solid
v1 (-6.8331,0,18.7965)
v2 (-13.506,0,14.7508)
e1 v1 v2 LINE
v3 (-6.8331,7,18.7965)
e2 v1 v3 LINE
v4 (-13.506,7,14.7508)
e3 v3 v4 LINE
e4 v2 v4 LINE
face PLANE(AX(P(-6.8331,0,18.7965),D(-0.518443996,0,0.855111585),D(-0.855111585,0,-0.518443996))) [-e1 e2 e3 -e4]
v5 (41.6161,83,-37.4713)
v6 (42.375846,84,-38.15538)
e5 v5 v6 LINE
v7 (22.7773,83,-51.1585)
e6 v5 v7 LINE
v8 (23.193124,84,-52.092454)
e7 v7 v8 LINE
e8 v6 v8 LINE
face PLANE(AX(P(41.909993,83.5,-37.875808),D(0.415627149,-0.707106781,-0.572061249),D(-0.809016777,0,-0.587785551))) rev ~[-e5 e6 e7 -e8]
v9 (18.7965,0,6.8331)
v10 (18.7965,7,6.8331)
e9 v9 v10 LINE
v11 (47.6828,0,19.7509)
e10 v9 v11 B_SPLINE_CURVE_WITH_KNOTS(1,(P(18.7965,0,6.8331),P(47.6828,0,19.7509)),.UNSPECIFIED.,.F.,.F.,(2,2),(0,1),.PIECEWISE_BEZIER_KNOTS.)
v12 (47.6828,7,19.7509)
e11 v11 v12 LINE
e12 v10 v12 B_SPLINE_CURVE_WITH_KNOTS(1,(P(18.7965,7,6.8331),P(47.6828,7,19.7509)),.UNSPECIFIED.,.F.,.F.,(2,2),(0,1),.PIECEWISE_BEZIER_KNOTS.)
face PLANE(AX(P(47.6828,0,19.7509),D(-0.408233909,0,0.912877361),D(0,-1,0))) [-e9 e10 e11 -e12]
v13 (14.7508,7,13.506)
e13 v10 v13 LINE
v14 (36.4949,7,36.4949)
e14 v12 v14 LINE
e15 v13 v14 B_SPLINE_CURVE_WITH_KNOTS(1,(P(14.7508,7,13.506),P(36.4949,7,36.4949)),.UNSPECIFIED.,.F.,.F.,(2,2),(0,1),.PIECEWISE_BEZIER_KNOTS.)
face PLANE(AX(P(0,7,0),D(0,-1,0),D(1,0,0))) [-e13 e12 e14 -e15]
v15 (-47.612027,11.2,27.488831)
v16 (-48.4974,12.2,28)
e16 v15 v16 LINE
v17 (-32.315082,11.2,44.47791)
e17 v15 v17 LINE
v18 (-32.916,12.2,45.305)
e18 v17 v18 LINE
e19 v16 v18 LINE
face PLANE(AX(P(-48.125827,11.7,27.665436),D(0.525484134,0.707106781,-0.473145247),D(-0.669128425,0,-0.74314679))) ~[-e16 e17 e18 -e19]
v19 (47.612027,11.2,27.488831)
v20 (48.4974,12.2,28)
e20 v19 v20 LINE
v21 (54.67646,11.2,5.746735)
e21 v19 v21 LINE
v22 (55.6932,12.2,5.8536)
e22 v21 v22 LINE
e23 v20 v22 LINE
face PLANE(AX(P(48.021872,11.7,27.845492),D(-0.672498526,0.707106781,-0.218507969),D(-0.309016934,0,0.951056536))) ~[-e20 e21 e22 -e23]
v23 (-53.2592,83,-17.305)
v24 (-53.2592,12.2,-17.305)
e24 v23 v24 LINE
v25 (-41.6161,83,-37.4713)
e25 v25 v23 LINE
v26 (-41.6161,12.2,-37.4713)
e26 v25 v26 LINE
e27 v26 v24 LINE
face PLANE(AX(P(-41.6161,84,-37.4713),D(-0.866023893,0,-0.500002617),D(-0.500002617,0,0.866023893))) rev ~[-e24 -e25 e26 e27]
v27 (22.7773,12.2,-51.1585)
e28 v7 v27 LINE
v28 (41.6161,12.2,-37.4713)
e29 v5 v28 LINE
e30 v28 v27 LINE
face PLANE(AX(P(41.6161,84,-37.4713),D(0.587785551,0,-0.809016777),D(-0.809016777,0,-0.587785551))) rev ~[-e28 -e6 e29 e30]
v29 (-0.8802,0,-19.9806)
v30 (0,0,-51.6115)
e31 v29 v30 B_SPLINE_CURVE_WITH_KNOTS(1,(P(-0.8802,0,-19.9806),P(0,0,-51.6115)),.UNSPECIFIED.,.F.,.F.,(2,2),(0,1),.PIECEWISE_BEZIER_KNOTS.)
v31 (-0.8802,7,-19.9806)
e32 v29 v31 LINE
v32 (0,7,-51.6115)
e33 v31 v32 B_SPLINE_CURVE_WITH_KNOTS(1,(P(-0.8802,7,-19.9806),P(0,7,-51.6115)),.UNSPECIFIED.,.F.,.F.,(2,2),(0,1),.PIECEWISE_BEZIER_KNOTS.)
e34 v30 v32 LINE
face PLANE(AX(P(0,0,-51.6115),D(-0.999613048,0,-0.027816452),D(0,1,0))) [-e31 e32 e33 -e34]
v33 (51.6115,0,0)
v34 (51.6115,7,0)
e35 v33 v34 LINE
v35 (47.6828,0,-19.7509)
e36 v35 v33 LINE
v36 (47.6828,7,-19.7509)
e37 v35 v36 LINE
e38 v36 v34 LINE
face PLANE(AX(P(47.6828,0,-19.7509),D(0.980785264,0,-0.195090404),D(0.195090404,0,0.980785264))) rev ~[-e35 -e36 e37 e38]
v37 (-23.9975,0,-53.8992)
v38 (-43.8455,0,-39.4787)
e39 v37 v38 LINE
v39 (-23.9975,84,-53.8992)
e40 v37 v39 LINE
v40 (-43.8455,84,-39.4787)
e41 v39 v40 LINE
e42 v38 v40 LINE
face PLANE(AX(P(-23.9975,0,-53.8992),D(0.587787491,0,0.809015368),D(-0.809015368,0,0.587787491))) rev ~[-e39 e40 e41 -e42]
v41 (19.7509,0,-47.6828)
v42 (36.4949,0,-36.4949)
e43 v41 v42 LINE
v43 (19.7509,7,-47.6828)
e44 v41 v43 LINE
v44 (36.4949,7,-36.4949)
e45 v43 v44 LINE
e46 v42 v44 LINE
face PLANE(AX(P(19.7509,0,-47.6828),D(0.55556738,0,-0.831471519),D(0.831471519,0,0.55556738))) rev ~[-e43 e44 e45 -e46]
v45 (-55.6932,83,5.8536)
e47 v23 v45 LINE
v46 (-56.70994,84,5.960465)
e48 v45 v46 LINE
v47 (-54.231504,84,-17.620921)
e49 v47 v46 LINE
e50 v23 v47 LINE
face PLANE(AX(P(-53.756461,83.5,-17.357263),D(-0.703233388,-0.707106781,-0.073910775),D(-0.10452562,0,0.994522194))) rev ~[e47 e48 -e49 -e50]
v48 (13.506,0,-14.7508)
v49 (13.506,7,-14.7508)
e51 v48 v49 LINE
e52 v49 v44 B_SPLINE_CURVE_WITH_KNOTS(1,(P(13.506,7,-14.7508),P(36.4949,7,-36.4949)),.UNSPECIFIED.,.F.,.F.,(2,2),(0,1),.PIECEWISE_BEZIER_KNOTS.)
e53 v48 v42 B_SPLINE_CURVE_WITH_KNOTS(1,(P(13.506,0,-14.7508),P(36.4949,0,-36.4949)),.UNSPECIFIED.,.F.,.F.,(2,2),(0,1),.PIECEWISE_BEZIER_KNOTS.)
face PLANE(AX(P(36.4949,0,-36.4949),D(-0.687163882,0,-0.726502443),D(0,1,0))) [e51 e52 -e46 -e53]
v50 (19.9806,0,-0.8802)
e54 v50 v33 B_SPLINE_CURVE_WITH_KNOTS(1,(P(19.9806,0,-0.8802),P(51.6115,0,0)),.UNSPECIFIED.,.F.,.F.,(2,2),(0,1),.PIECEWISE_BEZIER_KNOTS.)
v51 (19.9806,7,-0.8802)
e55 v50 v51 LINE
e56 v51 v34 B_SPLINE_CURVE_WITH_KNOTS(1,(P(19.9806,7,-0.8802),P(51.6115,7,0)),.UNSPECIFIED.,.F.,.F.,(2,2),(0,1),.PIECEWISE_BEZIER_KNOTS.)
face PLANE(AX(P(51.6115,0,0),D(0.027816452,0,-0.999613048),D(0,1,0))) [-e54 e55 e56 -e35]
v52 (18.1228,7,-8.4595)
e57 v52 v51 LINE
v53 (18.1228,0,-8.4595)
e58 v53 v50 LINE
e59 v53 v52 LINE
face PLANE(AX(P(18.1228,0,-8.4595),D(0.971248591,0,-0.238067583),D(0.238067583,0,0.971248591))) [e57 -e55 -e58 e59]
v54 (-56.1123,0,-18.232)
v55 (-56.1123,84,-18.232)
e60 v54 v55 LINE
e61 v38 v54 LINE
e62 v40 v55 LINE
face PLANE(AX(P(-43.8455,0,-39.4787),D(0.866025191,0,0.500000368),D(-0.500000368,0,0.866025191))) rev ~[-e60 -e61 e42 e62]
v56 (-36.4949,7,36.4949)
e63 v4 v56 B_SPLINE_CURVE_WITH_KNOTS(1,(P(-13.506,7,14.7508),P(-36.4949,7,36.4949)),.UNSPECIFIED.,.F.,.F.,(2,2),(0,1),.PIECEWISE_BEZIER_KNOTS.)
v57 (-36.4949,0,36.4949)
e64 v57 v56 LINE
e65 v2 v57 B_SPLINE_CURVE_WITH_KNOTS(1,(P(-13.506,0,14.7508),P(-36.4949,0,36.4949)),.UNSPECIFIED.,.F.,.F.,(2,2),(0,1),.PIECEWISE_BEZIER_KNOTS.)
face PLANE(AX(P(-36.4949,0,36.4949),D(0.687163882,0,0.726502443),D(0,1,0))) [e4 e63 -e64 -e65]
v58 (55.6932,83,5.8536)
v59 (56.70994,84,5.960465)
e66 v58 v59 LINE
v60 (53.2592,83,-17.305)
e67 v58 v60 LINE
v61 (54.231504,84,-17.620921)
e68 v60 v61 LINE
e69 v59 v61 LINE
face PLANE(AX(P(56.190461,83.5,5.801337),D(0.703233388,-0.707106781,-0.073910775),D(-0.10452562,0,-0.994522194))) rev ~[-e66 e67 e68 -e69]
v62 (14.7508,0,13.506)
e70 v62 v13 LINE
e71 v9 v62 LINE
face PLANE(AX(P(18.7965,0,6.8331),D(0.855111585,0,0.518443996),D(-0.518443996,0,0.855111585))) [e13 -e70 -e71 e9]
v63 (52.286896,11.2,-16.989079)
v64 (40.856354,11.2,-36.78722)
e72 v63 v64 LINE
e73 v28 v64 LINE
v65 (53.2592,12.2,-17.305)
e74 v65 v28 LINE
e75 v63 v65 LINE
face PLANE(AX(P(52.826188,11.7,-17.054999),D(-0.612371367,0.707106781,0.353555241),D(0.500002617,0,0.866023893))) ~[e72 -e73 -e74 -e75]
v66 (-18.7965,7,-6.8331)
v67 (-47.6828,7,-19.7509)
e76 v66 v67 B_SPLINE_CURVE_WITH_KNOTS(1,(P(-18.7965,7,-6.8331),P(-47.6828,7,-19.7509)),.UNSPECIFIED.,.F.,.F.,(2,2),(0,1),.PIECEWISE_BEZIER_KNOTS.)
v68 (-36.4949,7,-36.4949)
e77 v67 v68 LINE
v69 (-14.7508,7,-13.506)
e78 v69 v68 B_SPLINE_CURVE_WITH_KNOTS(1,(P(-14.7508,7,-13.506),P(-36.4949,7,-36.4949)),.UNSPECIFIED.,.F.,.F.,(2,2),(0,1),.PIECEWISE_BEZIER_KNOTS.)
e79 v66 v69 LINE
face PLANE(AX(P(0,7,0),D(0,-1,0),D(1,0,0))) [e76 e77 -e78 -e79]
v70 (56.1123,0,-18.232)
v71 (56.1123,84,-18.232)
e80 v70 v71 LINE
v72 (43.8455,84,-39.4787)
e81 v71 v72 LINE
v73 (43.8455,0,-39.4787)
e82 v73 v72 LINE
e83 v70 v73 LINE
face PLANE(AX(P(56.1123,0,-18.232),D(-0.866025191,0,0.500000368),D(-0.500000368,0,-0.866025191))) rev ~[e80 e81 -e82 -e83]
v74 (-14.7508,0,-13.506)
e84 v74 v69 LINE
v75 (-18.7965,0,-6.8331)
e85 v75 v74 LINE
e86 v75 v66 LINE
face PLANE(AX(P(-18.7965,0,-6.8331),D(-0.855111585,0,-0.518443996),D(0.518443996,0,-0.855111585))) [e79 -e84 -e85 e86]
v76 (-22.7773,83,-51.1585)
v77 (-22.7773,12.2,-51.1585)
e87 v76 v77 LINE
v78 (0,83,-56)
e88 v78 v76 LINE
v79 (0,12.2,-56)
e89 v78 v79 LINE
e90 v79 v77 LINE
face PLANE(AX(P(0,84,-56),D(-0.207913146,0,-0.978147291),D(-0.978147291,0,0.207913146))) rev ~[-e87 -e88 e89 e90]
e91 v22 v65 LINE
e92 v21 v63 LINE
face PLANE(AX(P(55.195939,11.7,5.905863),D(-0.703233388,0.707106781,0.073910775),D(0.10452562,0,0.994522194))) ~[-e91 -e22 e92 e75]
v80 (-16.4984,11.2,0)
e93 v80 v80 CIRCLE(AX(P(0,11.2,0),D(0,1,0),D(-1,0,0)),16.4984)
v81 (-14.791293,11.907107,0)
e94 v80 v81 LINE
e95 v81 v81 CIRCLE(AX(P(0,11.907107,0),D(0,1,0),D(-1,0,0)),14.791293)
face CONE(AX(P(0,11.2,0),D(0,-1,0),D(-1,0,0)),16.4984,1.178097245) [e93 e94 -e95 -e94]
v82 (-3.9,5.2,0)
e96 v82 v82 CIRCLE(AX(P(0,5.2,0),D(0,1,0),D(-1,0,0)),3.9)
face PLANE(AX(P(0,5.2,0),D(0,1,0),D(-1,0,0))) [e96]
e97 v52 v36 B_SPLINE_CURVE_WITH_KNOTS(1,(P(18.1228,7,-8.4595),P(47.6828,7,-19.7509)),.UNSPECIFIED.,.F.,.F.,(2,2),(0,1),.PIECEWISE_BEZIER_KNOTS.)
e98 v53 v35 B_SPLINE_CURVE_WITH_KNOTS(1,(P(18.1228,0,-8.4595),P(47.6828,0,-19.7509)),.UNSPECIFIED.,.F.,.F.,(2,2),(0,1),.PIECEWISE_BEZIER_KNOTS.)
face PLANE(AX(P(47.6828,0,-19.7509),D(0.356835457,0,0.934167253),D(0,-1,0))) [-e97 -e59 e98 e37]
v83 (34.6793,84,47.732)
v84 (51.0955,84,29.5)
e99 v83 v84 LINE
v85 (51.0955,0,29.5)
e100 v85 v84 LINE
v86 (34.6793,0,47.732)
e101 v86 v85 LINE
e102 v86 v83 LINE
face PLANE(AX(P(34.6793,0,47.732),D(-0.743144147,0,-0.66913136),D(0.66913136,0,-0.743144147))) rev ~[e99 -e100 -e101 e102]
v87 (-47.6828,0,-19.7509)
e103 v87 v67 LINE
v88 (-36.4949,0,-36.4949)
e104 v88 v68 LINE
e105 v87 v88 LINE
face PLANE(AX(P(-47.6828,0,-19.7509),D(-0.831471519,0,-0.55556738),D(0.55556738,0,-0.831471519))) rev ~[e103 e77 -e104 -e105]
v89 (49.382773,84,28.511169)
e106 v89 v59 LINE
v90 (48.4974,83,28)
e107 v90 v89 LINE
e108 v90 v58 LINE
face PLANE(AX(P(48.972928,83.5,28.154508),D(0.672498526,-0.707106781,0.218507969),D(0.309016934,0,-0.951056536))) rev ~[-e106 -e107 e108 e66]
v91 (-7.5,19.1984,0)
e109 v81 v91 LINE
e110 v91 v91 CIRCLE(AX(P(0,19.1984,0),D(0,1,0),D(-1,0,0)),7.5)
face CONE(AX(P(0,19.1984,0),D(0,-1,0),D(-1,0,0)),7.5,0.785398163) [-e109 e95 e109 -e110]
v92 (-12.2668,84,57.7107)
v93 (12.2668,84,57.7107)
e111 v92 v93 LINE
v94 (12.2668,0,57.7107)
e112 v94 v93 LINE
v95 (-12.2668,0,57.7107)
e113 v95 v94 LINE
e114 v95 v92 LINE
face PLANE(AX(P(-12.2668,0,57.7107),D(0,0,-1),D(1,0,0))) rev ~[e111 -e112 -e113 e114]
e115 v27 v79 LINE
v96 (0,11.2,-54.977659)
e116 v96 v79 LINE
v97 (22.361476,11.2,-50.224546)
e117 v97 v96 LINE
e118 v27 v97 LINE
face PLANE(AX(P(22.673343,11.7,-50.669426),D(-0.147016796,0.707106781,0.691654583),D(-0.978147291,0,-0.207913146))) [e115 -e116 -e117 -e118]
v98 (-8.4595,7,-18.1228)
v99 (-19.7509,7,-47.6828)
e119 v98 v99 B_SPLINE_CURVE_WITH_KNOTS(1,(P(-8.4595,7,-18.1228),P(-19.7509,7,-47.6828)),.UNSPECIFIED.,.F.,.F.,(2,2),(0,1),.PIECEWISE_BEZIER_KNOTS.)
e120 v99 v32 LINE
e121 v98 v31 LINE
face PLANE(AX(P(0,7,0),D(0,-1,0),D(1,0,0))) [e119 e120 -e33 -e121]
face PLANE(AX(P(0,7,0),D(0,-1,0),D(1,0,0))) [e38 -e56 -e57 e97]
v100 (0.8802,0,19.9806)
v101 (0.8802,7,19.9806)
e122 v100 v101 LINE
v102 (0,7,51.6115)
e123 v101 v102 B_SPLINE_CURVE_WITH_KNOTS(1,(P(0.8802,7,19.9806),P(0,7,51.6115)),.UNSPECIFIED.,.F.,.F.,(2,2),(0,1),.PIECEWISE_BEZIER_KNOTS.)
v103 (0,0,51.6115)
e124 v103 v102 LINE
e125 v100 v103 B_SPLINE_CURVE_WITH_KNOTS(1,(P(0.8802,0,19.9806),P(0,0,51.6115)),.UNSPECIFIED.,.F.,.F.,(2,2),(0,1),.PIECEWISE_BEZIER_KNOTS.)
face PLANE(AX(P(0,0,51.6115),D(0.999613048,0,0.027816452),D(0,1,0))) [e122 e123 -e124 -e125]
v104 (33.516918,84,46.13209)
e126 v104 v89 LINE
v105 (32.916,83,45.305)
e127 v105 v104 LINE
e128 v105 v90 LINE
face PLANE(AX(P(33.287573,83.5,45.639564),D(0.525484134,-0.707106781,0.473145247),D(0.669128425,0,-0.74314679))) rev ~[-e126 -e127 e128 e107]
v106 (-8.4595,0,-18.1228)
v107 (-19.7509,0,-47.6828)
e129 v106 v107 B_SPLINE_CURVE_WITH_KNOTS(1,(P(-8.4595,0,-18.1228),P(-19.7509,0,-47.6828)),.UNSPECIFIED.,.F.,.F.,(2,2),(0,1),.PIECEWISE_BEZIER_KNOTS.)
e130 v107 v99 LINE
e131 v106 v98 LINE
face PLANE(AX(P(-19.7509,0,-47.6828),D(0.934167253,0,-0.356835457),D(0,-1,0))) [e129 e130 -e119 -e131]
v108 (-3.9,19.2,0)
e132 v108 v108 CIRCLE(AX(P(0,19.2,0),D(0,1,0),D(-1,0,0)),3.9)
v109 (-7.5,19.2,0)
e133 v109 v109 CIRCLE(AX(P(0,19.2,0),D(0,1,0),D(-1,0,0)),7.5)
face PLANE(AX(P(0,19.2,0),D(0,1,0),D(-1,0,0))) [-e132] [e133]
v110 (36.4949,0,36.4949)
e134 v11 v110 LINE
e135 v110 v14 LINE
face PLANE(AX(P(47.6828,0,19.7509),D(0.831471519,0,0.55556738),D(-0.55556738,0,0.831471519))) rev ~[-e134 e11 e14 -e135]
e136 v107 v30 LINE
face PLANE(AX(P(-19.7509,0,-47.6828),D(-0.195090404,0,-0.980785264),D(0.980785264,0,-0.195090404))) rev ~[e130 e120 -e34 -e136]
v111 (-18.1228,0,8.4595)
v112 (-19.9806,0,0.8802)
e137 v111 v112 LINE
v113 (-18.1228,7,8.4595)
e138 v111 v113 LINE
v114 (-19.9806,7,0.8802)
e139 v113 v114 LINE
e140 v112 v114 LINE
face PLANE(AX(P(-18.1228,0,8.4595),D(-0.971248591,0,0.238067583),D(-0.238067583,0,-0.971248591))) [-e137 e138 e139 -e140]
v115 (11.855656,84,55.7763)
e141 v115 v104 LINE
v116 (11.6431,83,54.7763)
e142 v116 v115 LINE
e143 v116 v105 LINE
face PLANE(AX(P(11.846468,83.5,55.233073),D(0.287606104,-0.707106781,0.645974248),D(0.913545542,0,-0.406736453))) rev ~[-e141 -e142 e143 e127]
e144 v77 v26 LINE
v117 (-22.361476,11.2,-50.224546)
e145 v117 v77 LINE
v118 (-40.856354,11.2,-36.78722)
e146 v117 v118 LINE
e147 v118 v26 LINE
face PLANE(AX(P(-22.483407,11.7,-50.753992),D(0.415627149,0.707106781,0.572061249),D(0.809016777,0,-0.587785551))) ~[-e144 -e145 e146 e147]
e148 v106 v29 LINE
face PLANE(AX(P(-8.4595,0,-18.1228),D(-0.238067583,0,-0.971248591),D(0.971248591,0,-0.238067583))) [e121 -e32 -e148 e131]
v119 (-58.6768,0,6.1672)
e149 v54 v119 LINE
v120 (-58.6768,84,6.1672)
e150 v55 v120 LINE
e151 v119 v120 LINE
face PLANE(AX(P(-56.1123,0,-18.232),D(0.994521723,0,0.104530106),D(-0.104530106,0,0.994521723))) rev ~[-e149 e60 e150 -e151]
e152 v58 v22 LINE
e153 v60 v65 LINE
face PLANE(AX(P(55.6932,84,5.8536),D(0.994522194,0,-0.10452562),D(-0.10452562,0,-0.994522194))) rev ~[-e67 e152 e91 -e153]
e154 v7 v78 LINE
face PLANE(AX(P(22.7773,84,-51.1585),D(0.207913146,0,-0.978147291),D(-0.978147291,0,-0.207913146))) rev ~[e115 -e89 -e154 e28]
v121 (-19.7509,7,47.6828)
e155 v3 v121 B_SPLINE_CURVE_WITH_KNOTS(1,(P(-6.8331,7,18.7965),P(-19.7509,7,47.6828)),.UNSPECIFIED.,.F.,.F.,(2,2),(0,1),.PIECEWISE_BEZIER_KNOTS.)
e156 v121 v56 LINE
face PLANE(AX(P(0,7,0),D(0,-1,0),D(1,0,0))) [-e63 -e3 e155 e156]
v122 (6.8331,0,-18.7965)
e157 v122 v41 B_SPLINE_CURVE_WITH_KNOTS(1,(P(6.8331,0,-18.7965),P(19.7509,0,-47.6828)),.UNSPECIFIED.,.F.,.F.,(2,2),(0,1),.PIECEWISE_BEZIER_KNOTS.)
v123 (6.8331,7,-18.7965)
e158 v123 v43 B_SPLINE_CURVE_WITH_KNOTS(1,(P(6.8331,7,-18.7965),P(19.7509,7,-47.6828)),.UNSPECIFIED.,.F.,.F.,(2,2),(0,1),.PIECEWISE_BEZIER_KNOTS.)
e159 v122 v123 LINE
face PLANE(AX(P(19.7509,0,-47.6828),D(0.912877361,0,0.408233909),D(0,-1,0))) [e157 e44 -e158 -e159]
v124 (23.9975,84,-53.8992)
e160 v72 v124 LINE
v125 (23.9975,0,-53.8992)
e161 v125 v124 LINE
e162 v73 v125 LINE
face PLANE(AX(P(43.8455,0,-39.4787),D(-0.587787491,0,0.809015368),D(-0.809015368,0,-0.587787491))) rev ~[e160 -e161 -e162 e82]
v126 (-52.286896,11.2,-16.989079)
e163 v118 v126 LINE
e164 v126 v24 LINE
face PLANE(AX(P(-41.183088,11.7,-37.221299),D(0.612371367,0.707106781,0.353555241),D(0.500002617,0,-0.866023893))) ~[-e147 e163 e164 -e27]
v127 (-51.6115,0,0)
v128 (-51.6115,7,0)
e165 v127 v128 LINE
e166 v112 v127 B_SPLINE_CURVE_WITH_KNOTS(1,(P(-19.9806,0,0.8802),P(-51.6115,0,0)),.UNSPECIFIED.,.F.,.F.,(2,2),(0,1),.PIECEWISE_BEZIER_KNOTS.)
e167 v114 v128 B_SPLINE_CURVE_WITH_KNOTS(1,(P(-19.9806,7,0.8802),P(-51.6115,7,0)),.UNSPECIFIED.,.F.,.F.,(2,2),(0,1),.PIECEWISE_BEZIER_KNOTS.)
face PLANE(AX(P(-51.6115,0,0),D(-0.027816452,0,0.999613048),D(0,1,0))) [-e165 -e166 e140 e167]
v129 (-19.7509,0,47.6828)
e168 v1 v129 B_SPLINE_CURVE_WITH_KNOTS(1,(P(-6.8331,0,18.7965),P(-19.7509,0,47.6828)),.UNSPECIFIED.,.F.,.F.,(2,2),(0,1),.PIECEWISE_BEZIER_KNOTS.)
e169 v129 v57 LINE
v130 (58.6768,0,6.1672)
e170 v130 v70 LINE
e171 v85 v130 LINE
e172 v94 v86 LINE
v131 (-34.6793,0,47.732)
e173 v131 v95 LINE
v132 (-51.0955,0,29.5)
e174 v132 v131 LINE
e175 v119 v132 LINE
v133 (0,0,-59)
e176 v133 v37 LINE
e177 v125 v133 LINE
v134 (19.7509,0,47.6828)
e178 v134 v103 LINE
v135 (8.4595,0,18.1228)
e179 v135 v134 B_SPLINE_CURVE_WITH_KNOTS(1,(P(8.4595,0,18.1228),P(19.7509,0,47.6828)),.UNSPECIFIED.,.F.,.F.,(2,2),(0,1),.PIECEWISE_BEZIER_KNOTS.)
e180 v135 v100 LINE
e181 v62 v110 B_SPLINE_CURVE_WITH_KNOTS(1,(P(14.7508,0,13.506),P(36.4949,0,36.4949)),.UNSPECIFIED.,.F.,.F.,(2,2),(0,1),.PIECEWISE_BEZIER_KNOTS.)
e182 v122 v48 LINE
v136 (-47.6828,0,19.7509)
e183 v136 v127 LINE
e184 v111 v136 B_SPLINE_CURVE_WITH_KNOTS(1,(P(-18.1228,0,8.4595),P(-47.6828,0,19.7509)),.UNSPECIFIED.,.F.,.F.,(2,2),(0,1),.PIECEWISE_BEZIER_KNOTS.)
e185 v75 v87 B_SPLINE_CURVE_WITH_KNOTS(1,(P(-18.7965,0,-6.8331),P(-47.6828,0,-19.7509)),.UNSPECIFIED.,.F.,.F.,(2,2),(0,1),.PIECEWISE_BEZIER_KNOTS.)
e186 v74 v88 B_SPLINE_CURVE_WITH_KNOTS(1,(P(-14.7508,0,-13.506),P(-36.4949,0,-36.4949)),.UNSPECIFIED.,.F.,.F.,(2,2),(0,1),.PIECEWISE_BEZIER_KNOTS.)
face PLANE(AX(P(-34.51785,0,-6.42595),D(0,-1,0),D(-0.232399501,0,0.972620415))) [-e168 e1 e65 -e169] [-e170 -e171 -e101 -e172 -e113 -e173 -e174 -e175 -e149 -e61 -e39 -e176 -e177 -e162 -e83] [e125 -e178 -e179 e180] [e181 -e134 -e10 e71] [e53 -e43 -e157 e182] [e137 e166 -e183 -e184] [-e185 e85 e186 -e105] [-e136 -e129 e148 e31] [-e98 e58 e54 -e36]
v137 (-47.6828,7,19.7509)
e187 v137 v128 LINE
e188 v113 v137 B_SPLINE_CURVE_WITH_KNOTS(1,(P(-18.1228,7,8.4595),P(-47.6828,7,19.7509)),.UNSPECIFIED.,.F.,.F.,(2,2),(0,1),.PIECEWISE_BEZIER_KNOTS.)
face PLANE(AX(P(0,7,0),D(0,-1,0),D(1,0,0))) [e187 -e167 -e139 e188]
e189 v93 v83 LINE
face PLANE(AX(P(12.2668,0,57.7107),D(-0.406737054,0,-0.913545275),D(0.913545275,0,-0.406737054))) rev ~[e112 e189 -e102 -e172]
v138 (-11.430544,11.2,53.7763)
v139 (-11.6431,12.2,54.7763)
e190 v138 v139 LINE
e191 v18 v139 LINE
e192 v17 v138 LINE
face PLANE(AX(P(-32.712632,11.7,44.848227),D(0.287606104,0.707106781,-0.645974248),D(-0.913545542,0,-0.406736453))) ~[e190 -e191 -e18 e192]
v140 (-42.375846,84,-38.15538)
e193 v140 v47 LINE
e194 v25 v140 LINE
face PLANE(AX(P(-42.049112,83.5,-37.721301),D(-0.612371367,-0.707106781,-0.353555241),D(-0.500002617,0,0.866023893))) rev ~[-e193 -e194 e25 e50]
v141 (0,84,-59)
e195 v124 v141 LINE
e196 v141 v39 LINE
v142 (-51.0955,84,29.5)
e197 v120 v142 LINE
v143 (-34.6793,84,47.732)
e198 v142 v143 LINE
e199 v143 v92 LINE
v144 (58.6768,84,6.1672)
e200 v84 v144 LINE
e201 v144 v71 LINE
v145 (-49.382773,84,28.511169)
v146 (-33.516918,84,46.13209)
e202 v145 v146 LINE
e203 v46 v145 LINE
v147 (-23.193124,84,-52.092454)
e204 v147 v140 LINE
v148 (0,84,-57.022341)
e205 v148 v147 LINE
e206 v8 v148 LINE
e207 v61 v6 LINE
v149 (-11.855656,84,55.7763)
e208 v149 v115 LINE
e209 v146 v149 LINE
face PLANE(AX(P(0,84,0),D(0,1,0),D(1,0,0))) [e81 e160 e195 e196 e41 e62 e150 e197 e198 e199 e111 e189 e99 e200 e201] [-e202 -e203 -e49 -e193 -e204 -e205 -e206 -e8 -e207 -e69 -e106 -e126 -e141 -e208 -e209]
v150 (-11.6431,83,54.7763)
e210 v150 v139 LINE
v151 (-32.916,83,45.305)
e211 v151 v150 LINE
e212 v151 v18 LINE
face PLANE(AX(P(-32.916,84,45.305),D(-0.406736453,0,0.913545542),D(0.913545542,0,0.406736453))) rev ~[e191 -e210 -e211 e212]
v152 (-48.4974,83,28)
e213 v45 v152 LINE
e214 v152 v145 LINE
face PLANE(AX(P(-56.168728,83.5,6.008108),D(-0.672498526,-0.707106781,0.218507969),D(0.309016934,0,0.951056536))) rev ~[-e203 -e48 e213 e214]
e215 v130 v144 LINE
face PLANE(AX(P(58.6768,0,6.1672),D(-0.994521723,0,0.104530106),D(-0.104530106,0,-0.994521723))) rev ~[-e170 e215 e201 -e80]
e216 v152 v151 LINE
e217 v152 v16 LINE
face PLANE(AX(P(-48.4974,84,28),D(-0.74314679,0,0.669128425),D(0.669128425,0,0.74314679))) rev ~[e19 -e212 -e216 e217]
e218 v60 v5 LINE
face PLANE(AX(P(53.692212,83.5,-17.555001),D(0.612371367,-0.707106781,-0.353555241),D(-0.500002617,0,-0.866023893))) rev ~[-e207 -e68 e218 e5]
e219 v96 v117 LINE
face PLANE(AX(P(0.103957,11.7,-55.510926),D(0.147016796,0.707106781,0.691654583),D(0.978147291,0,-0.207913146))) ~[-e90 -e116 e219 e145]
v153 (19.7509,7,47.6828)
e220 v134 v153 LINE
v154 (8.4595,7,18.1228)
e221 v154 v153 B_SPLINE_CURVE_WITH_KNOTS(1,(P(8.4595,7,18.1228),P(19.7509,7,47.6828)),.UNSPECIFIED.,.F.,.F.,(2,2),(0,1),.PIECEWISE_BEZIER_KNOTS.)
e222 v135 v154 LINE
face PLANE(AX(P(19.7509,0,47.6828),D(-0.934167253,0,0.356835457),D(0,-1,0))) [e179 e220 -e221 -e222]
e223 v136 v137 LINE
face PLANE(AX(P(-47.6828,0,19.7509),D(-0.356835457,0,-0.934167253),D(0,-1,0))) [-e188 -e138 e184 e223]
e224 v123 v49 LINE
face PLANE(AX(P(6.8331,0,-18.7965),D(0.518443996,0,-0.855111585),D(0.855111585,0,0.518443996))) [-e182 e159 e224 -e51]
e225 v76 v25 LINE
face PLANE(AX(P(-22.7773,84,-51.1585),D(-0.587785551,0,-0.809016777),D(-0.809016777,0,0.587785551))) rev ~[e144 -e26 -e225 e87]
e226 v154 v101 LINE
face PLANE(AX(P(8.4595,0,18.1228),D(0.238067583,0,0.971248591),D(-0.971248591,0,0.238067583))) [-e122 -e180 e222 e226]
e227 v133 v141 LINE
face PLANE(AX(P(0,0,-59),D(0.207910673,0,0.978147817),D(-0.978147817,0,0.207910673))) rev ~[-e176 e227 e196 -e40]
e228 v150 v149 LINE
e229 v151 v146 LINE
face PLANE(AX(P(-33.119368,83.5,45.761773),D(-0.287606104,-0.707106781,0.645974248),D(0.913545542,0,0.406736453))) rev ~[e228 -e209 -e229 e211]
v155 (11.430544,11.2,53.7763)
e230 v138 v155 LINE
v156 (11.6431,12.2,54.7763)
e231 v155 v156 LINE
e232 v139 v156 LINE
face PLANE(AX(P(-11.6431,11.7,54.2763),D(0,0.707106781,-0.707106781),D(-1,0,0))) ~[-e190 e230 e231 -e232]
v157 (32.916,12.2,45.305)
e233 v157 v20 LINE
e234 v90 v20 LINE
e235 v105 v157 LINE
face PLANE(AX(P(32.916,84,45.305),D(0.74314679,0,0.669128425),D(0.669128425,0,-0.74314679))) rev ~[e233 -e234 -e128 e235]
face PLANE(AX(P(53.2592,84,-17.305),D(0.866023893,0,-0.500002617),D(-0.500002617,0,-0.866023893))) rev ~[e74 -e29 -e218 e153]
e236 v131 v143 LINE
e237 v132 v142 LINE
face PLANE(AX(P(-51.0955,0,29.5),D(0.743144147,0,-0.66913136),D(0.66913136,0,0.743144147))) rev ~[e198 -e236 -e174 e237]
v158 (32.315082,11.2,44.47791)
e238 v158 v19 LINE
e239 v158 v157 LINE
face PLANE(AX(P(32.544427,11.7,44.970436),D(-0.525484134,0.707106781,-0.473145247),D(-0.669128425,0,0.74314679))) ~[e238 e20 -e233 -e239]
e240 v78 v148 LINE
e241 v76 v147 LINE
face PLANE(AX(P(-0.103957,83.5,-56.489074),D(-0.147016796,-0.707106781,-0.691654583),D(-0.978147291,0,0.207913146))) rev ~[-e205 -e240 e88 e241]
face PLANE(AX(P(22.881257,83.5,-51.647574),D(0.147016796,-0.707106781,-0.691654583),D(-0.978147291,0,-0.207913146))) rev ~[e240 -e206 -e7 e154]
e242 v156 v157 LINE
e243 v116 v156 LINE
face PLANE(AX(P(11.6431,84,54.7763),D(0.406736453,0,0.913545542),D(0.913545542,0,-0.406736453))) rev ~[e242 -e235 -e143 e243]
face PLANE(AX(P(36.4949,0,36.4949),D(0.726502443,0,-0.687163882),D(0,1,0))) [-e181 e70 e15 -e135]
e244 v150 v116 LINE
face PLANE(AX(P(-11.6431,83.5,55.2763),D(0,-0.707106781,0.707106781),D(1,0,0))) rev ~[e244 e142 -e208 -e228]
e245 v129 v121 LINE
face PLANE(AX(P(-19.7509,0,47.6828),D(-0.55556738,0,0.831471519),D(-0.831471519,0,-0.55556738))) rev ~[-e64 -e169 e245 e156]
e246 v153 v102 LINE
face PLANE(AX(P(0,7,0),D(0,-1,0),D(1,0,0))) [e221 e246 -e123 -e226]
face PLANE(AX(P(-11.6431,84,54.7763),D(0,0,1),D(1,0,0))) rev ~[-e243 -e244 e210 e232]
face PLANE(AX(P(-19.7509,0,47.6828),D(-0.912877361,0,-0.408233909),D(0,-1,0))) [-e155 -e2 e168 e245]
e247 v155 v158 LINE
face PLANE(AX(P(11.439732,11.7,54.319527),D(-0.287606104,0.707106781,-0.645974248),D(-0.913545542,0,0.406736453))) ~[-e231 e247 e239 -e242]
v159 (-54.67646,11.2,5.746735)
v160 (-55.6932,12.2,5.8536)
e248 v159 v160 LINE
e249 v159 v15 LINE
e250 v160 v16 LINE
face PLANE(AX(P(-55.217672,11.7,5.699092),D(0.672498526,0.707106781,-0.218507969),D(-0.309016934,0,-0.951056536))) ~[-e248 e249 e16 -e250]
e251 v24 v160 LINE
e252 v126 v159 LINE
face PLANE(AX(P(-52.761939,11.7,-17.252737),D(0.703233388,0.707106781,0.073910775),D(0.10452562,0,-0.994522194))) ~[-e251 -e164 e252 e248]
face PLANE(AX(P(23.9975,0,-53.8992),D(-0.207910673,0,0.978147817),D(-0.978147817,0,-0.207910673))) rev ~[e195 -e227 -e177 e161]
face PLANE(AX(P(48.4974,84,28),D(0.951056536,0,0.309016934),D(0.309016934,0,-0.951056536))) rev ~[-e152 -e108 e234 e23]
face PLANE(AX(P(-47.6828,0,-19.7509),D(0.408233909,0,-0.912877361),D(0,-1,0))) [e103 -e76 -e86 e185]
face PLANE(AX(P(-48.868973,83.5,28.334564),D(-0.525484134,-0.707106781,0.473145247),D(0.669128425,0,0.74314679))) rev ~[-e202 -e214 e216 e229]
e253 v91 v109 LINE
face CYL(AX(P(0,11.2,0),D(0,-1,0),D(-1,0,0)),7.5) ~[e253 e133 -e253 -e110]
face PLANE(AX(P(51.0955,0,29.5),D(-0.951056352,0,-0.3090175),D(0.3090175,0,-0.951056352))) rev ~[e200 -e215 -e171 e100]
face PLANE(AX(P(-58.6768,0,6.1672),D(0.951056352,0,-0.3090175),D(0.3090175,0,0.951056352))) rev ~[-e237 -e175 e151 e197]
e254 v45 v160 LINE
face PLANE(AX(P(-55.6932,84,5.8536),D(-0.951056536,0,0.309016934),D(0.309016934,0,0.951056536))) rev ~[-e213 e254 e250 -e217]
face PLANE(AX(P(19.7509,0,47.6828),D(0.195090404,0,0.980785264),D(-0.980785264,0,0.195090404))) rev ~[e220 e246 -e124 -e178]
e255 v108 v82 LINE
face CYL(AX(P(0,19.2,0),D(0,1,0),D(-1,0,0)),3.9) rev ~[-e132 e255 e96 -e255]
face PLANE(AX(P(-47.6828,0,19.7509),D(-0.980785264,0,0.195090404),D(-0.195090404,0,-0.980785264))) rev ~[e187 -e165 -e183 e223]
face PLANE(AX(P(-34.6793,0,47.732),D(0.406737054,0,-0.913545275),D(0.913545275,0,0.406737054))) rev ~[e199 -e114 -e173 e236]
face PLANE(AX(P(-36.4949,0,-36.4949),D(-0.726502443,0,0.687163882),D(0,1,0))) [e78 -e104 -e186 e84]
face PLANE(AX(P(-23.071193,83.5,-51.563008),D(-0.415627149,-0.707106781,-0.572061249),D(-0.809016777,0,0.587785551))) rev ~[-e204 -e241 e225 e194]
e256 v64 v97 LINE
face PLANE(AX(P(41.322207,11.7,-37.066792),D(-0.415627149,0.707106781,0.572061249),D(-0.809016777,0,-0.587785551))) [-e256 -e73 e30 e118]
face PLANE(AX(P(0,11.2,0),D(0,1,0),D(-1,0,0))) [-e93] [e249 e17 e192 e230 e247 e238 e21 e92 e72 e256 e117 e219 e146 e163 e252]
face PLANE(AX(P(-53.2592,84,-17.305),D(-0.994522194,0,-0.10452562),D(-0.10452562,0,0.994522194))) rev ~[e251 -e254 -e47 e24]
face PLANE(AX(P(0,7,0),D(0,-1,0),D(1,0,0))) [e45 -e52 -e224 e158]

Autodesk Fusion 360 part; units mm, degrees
sketch "Sketch1" plane through (0, 0, 0) normal (0, 1, 0) x (1, 0, 0)
  line L0 (0, 59) -> (-23.9975, 53.8992)
  line L1 (-23.9975, 53.8992) -> (-43.8455, 39.4787)
  line L2 (-43.8455, 39.4787) -> (-56.1123, 18.232)
  line L3 (-56.1123, 18.232) -> (-58.6768, -6.1672)
  line L4 (-58.6768, -6.1672) -> (-51.0955, -29.5)
  line L5 (-51.0955, -29.5) -> (-34.6793, -47.732)
  line L6 (-34.6793, -47.732) -> (-12.2668, -57.7107)
  line L7 (-12.2668, -57.7107) -> (12.2668, -57.7107)
  line L8 (12.2668, -57.7107) -> (34.6793, -47.732)
  line L9 (34.6793, -47.732) -> (51.0955, -29.5)
  line L10 (51.0955, -29.5) -> (58.6768, -6.1672)
  line L11 (58.6768, -6.1672) -> (56.1123, 18.232)
  line L12 (56.1123, 18.232) -> (43.8455, 39.4787)
  line L13 (43.8455, 39.4787) -> (23.9975, 53.8992)
  line L14 (23.9975, 53.8992) -> (0, 59)
extrude "Extrude1" add sketch "Sketch1" along normal blind 84
sketch "Sketch2" plane through (0, 84, 0) normal (0, 1, 0) x (-1, 0, 0)
  line L0 (0, -56) -> (22.7773, -51.1585)
  line L1 (22.7773, -51.1585) -> (41.6161, -37.4713)
  line L2 (41.6161, -37.4713) -> (53.2592, -17.305)
  line L3 (53.2592, -17.305) -> (55.6932, 5.8536)
  line L4 (55.6932, 5.8536) -> (48.4974, 28)
  line L5 (48.4974, 28) -> (32.916, 45.305)
  line L6 (32.916, 45.305) -> (11.6431, 54.7763)
  line L7 (11.6431, 54.7763) -> (-11.6431, 54.7763)
  line L8 (-11.6431, 54.7763) -> (-32.916, 45.305)
  line L9 (-32.916, 45.305) -> (-48.4974, 28)
  line L10 (-48.4974, 28) -> (-55.6932, 5.8536)
  line L11 (-55.6932, 5.8536) -> (-53.2592, -17.305)
  line L12 (-53.2592, -17.305) -> (-41.6161, -37.4713)
  line L13 (-41.6161, -37.4713) -> (-22.7773, -51.1585)
  line L14 (-22.7773, -51.1585) -> (0, -56)
  line L15 (-23.9975, -53.8992) -> (0, -59)
  line L16 (0, -59) -> (23.9975, -53.8992)
  line L17 (23.9975, -53.8992) -> (43.8455, -39.4787)
  line L18 (43.8455, -39.4787) -> (56.1123, -18.232)
  line L19 (56.1123, -18.232) -> (58.6768, 6.1672)
  line L20 (58.6768, 6.1672) -> (51.0955, 29.5)
  line L21 (51.0955, 29.5) -> (34.6793, 47.732)
  line L22 (34.6793, 47.732) -> (12.2668, 57.7107)
  line L23 (12.2668, 57.7107) -> (-12.2668, 57.7107)
  line L24 (-12.2668, 57.7107) -> (-34.6793, 47.732)
  line L25 (-34.6793, 47.732) -> (-51.0955, 29.5)
  line L26 (-51.0955, 29.5) -> (-58.6768, 6.1672)
  line L27 (-58.6768, 6.1672) -> (-56.1123, -18.232)
  line L28 (-56.1123, -18.232) -> (-43.8455, -39.4787)
  line L29 (-43.8455, -39.4787) -> (-23.9975, -53.8992)
  dimension "d4" = 56
extrude "Extrude2" cut sketch "Sketch2" against normal blind 72.8 contours L0 L1 L2 L3 L4 L5 L6 L7 L8 L9 L10 L11 L12 L13 L14
sketch "Sketch3" plane through (0, 11.2, 0) normal (0, 1, 0) x (-1, 0, 0)
  line L0 (-22.7773, -51.1585) -> (0, -56)
  line L1 (0, -56) -> (22.7773, -51.1585)
  line L2 (22.7773, -51.1585) -> (41.6161, -37.4713)
  line L3 (41.6161, -37.4713) -> (53.2592, -17.305)
  line L4 (53.2592, -17.305) -> (55.6932, 5.8536)
  line L5 (55.6932, 5.8536) -> (48.4974, 28)
  line L6 (48.4974, 28) -> (32.916, 45.305)
  line L7 (32.916, 45.305) -> (11.6431, 54.7763)
  line L8 (11.6431, 54.7763) -> (-11.6431, 54.7763)
  line L9 (-11.6431, 54.7763) -> (-32.916, 45.305)
  line L10 (-32.916, 45.305) -> (-48.4974, 28)
  line L11 (-48.4974, 28) -> (-55.6932, 5.8536)
  line L12 (-55.6932, 5.8536) -> (-53.2592, -17.305)
  line L13 (-53.2592, -17.305) -> (-41.6161, -37.4713)
  line L14 (-41.6161, -37.4713) -> (-22.7773, -51.1585)
  circle A0 centre (0, 0) radius 7.5
  dimension "d7" = 15
extrude "Extrude3" add sketch "Sketch3" along normal blind 8 contours A0
chamfer "Chamfer1" distance 8 angle 45 1 edges at (6.9925, 11.2, 2.7121)
sketch "Sketch4" plane through (0, 19.2, 0) normal (0, 1, 0) x (-1, 0, 0)
  circle A0 centre (0, 0) radius 7.5
  circle A1 centre (0, 0) radius 3.9
  dimension "d11" = 7.8
extrude "Extrude4" cut sketch "Sketch4" against normal blind 14 contours A1
chamfer "Chamfer2" distance 1 angle 45 15 edges at (54.4762, 84, -5.7257) (47.4376, 84, -27.3881) (32.1967, 84, -44.3149) (-11.3886, 84, -53.5793) (11.3886, 84, -53.5793) (-32.1967, 84, -44.3149) (-47.4376, 84, -27.3881) (-54.4762, 84, -5.7257) (-52.0953, 84, 16.9268) (-40.7067, 84, 36.6525) (-22.2795, 84, 50.0406) (0, 84, 54.7763) (22.2795, 84, 50.0406) (40.7067, 84, 36.6525) (52.0953, 84, 16.9268)
chamfer "Chamfer4" distance 1 angle 45 3 edges at (-11.3886, 11.2, -53.5793) (11.3886, 11.2, -53.5793) (32.1967, 11.2, -44.3149) 1 faces at (-35.8936, 11.2, -21.1689)
sketch "Sketch7" plane through (0, 0, 0) normal (0, -1, 0) x (1, 0, 0)
  line L0 (0, -59) -> (23.9975, -53.8992)
  line L1 (23.9975, -53.8992) -> (43.8455, -39.4787)
  line L2 (43.8455, -39.4787) -> (56.1123, -18.232)
  line L3 (56.1123, -18.232) -> (58.6768, 6.1672)
  line L4 (58.6768, 6.1672) -> (51.0955, 29.5)
  line L5 (51.0955, 29.5) -> (34.6793, 47.732)
  line L6 (34.6793, 47.732) -> (12.2668, 57.7107)
  line L7 (12.2668, 57.7107) -> (-12.2668, 57.7107)
  line L8 (-12.2668, 57.7107) -> (-34.6793, 47.732)
  line L9 (-34.6793, 47.732) -> (-51.0955, 29.5)
  line L10 (-51.0955, 29.5) -> (-58.6768, 6.1672)
  line L11 (-58.6768, 6.1672) -> (-56.1123, -18.232)
  line L12 (-56.1123, -18.232) -> (-43.8455, -39.4787)
  line L13 (-43.8455, -39.4787) -> (-23.9975, -53.8992)
  line L14 (-23.9975, -53.8992) -> (0, -59)
  line L15 (0, -51.6115) -> (19.7509, -47.6828)
  line L16 (19.7509, -47.6828) -> (36.4949, -36.4949)
  line L17 (36.4949, -36.4949) -> (47.6828, -19.7509)
  line L18 (47.6828, -19.7509) -> (51.6115, 0)
  line L19 (51.6115, 0) -> (47.6828, 19.7509)
  line L20 (47.6828, 19.7509) -> (36.4949, 36.4949)
  line L21 (36.4949, 36.4949) -> (19.7509, 47.6828)
  line L22 (19.7509, 47.6828) -> (0, 51.6115)
  line L23 (0, 51.6115) -> (-19.7509, 47.6828)
  line L24 (-19.7509, 47.6828) -> (-36.4949, 36.4949)
  line L25 (-36.4949, 36.4949) -> (-47.6828, 19.7509)
  line L26 (-47.6828, 19.7509) -> (-51.6115, 0)
  line L27 (-51.6115, 0) -> (-47.6828, -19.7509)
  line L28 (-47.6828, -19.7509) -> (-36.4949, -36.4949)
  line L29 (-36.4949, -36.4949) -> (-19.7509, -47.6828)
  line L30 (-19.7509, -47.6828) -> (0, -51.6115)
  line L31 (-0.8802, -19.9806) -> (6.8331, -18.7965)
  line L32 (6.8331, -18.7965) -> (13.506, -14.7508)
  line L33 (13.506, -14.7508) -> (18.1228, -8.4595)
  line L34 (18.1228, -8.4595) -> (19.9806, -0.8802)
  line L35 (19.9806, -0.8802) -> (18.7965, 6.8331)
  line L36 (18.7965, 6.8331) -> (14.7508, 13.506)
  line L37 (14.7508, 13.506) -> (8.4595, 18.1228)
  line L38 (8.4595, 18.1228) -> (0.8802, 19.9806)
  line L39 (0.8802, 19.9806) -> (-6.8331, 18.7965)
  line L40 (-6.8331, 18.7965) -> (-13.506, 14.7508)
  line L41 (-13.506, 14.7508) -> (-18.1228, 8.4595)
  line L42 (-18.1228, 8.4595) -> (-19.9806, 0.8802)
  line L43 (-19.9806, 0.8802) -> (-18.7965, -6.8331)
  line L44 (-18.7965, -6.8331) -> (-14.7508, -13.506)
  line L45 (-14.7508, -13.506) -> (-8.4595, -18.1228)
  line L46 (-8.4595, -18.1228) -> (-0.8802, -19.9806)
  dimension "d29" = 20
extrude "Extrude9" cut sketch "Sketch7" against normal blind 10 contours L15 L16 L17 L18 L19 L20 L21 L22 L23 L24 L25 L26 L27 L28 L29 L30
extrude "Extrude10" add 1 faces at (-21.5684, 10, -34.1002) along direction (0, -1, 0) blind 3
loft "Loft8" add section 1 face at (-15.045, 2.3333, 12.6537) section 2 face at (-40.2242, 2.3333, 30.9135)
loft "Loft9" add section 1 face at (-1.6909, 2.3333, 19.5859) section 2 face at (-6.5836, 4.6667, 50.302)
loft "Loft10" add section 1 face at (12.6537, 2.3333, 15.045) section 2 face at (30.9135, 2.3333, 40.2242)
loft "Loft11" add section 1 face at (19.5859, 2.3333, 1.6909) section 2 face at (50.302, 4.6667, 6.5836)
loft "Loft12" add section 1 face at (15.045, 2.3333, -12.6537) section 2 face at (40.2242, 2.3333, -30.9135)
loft "Loft13" add section 1 face at (1.6909, 4.6667, -19.5859) section 2 face at (6.5836, 4.6667, -50.302)
loft "Loft14" add section 1 face at (-12.6537, 2.3333, -15.045) section 2 face at (-30.9135, 2.3333, -40.2242)
loft "Loft15" add section 1 face at (-19.5859, 2.3333, -1.6909) section 2 face at (-50.302, 4.6667, -6.5836)
